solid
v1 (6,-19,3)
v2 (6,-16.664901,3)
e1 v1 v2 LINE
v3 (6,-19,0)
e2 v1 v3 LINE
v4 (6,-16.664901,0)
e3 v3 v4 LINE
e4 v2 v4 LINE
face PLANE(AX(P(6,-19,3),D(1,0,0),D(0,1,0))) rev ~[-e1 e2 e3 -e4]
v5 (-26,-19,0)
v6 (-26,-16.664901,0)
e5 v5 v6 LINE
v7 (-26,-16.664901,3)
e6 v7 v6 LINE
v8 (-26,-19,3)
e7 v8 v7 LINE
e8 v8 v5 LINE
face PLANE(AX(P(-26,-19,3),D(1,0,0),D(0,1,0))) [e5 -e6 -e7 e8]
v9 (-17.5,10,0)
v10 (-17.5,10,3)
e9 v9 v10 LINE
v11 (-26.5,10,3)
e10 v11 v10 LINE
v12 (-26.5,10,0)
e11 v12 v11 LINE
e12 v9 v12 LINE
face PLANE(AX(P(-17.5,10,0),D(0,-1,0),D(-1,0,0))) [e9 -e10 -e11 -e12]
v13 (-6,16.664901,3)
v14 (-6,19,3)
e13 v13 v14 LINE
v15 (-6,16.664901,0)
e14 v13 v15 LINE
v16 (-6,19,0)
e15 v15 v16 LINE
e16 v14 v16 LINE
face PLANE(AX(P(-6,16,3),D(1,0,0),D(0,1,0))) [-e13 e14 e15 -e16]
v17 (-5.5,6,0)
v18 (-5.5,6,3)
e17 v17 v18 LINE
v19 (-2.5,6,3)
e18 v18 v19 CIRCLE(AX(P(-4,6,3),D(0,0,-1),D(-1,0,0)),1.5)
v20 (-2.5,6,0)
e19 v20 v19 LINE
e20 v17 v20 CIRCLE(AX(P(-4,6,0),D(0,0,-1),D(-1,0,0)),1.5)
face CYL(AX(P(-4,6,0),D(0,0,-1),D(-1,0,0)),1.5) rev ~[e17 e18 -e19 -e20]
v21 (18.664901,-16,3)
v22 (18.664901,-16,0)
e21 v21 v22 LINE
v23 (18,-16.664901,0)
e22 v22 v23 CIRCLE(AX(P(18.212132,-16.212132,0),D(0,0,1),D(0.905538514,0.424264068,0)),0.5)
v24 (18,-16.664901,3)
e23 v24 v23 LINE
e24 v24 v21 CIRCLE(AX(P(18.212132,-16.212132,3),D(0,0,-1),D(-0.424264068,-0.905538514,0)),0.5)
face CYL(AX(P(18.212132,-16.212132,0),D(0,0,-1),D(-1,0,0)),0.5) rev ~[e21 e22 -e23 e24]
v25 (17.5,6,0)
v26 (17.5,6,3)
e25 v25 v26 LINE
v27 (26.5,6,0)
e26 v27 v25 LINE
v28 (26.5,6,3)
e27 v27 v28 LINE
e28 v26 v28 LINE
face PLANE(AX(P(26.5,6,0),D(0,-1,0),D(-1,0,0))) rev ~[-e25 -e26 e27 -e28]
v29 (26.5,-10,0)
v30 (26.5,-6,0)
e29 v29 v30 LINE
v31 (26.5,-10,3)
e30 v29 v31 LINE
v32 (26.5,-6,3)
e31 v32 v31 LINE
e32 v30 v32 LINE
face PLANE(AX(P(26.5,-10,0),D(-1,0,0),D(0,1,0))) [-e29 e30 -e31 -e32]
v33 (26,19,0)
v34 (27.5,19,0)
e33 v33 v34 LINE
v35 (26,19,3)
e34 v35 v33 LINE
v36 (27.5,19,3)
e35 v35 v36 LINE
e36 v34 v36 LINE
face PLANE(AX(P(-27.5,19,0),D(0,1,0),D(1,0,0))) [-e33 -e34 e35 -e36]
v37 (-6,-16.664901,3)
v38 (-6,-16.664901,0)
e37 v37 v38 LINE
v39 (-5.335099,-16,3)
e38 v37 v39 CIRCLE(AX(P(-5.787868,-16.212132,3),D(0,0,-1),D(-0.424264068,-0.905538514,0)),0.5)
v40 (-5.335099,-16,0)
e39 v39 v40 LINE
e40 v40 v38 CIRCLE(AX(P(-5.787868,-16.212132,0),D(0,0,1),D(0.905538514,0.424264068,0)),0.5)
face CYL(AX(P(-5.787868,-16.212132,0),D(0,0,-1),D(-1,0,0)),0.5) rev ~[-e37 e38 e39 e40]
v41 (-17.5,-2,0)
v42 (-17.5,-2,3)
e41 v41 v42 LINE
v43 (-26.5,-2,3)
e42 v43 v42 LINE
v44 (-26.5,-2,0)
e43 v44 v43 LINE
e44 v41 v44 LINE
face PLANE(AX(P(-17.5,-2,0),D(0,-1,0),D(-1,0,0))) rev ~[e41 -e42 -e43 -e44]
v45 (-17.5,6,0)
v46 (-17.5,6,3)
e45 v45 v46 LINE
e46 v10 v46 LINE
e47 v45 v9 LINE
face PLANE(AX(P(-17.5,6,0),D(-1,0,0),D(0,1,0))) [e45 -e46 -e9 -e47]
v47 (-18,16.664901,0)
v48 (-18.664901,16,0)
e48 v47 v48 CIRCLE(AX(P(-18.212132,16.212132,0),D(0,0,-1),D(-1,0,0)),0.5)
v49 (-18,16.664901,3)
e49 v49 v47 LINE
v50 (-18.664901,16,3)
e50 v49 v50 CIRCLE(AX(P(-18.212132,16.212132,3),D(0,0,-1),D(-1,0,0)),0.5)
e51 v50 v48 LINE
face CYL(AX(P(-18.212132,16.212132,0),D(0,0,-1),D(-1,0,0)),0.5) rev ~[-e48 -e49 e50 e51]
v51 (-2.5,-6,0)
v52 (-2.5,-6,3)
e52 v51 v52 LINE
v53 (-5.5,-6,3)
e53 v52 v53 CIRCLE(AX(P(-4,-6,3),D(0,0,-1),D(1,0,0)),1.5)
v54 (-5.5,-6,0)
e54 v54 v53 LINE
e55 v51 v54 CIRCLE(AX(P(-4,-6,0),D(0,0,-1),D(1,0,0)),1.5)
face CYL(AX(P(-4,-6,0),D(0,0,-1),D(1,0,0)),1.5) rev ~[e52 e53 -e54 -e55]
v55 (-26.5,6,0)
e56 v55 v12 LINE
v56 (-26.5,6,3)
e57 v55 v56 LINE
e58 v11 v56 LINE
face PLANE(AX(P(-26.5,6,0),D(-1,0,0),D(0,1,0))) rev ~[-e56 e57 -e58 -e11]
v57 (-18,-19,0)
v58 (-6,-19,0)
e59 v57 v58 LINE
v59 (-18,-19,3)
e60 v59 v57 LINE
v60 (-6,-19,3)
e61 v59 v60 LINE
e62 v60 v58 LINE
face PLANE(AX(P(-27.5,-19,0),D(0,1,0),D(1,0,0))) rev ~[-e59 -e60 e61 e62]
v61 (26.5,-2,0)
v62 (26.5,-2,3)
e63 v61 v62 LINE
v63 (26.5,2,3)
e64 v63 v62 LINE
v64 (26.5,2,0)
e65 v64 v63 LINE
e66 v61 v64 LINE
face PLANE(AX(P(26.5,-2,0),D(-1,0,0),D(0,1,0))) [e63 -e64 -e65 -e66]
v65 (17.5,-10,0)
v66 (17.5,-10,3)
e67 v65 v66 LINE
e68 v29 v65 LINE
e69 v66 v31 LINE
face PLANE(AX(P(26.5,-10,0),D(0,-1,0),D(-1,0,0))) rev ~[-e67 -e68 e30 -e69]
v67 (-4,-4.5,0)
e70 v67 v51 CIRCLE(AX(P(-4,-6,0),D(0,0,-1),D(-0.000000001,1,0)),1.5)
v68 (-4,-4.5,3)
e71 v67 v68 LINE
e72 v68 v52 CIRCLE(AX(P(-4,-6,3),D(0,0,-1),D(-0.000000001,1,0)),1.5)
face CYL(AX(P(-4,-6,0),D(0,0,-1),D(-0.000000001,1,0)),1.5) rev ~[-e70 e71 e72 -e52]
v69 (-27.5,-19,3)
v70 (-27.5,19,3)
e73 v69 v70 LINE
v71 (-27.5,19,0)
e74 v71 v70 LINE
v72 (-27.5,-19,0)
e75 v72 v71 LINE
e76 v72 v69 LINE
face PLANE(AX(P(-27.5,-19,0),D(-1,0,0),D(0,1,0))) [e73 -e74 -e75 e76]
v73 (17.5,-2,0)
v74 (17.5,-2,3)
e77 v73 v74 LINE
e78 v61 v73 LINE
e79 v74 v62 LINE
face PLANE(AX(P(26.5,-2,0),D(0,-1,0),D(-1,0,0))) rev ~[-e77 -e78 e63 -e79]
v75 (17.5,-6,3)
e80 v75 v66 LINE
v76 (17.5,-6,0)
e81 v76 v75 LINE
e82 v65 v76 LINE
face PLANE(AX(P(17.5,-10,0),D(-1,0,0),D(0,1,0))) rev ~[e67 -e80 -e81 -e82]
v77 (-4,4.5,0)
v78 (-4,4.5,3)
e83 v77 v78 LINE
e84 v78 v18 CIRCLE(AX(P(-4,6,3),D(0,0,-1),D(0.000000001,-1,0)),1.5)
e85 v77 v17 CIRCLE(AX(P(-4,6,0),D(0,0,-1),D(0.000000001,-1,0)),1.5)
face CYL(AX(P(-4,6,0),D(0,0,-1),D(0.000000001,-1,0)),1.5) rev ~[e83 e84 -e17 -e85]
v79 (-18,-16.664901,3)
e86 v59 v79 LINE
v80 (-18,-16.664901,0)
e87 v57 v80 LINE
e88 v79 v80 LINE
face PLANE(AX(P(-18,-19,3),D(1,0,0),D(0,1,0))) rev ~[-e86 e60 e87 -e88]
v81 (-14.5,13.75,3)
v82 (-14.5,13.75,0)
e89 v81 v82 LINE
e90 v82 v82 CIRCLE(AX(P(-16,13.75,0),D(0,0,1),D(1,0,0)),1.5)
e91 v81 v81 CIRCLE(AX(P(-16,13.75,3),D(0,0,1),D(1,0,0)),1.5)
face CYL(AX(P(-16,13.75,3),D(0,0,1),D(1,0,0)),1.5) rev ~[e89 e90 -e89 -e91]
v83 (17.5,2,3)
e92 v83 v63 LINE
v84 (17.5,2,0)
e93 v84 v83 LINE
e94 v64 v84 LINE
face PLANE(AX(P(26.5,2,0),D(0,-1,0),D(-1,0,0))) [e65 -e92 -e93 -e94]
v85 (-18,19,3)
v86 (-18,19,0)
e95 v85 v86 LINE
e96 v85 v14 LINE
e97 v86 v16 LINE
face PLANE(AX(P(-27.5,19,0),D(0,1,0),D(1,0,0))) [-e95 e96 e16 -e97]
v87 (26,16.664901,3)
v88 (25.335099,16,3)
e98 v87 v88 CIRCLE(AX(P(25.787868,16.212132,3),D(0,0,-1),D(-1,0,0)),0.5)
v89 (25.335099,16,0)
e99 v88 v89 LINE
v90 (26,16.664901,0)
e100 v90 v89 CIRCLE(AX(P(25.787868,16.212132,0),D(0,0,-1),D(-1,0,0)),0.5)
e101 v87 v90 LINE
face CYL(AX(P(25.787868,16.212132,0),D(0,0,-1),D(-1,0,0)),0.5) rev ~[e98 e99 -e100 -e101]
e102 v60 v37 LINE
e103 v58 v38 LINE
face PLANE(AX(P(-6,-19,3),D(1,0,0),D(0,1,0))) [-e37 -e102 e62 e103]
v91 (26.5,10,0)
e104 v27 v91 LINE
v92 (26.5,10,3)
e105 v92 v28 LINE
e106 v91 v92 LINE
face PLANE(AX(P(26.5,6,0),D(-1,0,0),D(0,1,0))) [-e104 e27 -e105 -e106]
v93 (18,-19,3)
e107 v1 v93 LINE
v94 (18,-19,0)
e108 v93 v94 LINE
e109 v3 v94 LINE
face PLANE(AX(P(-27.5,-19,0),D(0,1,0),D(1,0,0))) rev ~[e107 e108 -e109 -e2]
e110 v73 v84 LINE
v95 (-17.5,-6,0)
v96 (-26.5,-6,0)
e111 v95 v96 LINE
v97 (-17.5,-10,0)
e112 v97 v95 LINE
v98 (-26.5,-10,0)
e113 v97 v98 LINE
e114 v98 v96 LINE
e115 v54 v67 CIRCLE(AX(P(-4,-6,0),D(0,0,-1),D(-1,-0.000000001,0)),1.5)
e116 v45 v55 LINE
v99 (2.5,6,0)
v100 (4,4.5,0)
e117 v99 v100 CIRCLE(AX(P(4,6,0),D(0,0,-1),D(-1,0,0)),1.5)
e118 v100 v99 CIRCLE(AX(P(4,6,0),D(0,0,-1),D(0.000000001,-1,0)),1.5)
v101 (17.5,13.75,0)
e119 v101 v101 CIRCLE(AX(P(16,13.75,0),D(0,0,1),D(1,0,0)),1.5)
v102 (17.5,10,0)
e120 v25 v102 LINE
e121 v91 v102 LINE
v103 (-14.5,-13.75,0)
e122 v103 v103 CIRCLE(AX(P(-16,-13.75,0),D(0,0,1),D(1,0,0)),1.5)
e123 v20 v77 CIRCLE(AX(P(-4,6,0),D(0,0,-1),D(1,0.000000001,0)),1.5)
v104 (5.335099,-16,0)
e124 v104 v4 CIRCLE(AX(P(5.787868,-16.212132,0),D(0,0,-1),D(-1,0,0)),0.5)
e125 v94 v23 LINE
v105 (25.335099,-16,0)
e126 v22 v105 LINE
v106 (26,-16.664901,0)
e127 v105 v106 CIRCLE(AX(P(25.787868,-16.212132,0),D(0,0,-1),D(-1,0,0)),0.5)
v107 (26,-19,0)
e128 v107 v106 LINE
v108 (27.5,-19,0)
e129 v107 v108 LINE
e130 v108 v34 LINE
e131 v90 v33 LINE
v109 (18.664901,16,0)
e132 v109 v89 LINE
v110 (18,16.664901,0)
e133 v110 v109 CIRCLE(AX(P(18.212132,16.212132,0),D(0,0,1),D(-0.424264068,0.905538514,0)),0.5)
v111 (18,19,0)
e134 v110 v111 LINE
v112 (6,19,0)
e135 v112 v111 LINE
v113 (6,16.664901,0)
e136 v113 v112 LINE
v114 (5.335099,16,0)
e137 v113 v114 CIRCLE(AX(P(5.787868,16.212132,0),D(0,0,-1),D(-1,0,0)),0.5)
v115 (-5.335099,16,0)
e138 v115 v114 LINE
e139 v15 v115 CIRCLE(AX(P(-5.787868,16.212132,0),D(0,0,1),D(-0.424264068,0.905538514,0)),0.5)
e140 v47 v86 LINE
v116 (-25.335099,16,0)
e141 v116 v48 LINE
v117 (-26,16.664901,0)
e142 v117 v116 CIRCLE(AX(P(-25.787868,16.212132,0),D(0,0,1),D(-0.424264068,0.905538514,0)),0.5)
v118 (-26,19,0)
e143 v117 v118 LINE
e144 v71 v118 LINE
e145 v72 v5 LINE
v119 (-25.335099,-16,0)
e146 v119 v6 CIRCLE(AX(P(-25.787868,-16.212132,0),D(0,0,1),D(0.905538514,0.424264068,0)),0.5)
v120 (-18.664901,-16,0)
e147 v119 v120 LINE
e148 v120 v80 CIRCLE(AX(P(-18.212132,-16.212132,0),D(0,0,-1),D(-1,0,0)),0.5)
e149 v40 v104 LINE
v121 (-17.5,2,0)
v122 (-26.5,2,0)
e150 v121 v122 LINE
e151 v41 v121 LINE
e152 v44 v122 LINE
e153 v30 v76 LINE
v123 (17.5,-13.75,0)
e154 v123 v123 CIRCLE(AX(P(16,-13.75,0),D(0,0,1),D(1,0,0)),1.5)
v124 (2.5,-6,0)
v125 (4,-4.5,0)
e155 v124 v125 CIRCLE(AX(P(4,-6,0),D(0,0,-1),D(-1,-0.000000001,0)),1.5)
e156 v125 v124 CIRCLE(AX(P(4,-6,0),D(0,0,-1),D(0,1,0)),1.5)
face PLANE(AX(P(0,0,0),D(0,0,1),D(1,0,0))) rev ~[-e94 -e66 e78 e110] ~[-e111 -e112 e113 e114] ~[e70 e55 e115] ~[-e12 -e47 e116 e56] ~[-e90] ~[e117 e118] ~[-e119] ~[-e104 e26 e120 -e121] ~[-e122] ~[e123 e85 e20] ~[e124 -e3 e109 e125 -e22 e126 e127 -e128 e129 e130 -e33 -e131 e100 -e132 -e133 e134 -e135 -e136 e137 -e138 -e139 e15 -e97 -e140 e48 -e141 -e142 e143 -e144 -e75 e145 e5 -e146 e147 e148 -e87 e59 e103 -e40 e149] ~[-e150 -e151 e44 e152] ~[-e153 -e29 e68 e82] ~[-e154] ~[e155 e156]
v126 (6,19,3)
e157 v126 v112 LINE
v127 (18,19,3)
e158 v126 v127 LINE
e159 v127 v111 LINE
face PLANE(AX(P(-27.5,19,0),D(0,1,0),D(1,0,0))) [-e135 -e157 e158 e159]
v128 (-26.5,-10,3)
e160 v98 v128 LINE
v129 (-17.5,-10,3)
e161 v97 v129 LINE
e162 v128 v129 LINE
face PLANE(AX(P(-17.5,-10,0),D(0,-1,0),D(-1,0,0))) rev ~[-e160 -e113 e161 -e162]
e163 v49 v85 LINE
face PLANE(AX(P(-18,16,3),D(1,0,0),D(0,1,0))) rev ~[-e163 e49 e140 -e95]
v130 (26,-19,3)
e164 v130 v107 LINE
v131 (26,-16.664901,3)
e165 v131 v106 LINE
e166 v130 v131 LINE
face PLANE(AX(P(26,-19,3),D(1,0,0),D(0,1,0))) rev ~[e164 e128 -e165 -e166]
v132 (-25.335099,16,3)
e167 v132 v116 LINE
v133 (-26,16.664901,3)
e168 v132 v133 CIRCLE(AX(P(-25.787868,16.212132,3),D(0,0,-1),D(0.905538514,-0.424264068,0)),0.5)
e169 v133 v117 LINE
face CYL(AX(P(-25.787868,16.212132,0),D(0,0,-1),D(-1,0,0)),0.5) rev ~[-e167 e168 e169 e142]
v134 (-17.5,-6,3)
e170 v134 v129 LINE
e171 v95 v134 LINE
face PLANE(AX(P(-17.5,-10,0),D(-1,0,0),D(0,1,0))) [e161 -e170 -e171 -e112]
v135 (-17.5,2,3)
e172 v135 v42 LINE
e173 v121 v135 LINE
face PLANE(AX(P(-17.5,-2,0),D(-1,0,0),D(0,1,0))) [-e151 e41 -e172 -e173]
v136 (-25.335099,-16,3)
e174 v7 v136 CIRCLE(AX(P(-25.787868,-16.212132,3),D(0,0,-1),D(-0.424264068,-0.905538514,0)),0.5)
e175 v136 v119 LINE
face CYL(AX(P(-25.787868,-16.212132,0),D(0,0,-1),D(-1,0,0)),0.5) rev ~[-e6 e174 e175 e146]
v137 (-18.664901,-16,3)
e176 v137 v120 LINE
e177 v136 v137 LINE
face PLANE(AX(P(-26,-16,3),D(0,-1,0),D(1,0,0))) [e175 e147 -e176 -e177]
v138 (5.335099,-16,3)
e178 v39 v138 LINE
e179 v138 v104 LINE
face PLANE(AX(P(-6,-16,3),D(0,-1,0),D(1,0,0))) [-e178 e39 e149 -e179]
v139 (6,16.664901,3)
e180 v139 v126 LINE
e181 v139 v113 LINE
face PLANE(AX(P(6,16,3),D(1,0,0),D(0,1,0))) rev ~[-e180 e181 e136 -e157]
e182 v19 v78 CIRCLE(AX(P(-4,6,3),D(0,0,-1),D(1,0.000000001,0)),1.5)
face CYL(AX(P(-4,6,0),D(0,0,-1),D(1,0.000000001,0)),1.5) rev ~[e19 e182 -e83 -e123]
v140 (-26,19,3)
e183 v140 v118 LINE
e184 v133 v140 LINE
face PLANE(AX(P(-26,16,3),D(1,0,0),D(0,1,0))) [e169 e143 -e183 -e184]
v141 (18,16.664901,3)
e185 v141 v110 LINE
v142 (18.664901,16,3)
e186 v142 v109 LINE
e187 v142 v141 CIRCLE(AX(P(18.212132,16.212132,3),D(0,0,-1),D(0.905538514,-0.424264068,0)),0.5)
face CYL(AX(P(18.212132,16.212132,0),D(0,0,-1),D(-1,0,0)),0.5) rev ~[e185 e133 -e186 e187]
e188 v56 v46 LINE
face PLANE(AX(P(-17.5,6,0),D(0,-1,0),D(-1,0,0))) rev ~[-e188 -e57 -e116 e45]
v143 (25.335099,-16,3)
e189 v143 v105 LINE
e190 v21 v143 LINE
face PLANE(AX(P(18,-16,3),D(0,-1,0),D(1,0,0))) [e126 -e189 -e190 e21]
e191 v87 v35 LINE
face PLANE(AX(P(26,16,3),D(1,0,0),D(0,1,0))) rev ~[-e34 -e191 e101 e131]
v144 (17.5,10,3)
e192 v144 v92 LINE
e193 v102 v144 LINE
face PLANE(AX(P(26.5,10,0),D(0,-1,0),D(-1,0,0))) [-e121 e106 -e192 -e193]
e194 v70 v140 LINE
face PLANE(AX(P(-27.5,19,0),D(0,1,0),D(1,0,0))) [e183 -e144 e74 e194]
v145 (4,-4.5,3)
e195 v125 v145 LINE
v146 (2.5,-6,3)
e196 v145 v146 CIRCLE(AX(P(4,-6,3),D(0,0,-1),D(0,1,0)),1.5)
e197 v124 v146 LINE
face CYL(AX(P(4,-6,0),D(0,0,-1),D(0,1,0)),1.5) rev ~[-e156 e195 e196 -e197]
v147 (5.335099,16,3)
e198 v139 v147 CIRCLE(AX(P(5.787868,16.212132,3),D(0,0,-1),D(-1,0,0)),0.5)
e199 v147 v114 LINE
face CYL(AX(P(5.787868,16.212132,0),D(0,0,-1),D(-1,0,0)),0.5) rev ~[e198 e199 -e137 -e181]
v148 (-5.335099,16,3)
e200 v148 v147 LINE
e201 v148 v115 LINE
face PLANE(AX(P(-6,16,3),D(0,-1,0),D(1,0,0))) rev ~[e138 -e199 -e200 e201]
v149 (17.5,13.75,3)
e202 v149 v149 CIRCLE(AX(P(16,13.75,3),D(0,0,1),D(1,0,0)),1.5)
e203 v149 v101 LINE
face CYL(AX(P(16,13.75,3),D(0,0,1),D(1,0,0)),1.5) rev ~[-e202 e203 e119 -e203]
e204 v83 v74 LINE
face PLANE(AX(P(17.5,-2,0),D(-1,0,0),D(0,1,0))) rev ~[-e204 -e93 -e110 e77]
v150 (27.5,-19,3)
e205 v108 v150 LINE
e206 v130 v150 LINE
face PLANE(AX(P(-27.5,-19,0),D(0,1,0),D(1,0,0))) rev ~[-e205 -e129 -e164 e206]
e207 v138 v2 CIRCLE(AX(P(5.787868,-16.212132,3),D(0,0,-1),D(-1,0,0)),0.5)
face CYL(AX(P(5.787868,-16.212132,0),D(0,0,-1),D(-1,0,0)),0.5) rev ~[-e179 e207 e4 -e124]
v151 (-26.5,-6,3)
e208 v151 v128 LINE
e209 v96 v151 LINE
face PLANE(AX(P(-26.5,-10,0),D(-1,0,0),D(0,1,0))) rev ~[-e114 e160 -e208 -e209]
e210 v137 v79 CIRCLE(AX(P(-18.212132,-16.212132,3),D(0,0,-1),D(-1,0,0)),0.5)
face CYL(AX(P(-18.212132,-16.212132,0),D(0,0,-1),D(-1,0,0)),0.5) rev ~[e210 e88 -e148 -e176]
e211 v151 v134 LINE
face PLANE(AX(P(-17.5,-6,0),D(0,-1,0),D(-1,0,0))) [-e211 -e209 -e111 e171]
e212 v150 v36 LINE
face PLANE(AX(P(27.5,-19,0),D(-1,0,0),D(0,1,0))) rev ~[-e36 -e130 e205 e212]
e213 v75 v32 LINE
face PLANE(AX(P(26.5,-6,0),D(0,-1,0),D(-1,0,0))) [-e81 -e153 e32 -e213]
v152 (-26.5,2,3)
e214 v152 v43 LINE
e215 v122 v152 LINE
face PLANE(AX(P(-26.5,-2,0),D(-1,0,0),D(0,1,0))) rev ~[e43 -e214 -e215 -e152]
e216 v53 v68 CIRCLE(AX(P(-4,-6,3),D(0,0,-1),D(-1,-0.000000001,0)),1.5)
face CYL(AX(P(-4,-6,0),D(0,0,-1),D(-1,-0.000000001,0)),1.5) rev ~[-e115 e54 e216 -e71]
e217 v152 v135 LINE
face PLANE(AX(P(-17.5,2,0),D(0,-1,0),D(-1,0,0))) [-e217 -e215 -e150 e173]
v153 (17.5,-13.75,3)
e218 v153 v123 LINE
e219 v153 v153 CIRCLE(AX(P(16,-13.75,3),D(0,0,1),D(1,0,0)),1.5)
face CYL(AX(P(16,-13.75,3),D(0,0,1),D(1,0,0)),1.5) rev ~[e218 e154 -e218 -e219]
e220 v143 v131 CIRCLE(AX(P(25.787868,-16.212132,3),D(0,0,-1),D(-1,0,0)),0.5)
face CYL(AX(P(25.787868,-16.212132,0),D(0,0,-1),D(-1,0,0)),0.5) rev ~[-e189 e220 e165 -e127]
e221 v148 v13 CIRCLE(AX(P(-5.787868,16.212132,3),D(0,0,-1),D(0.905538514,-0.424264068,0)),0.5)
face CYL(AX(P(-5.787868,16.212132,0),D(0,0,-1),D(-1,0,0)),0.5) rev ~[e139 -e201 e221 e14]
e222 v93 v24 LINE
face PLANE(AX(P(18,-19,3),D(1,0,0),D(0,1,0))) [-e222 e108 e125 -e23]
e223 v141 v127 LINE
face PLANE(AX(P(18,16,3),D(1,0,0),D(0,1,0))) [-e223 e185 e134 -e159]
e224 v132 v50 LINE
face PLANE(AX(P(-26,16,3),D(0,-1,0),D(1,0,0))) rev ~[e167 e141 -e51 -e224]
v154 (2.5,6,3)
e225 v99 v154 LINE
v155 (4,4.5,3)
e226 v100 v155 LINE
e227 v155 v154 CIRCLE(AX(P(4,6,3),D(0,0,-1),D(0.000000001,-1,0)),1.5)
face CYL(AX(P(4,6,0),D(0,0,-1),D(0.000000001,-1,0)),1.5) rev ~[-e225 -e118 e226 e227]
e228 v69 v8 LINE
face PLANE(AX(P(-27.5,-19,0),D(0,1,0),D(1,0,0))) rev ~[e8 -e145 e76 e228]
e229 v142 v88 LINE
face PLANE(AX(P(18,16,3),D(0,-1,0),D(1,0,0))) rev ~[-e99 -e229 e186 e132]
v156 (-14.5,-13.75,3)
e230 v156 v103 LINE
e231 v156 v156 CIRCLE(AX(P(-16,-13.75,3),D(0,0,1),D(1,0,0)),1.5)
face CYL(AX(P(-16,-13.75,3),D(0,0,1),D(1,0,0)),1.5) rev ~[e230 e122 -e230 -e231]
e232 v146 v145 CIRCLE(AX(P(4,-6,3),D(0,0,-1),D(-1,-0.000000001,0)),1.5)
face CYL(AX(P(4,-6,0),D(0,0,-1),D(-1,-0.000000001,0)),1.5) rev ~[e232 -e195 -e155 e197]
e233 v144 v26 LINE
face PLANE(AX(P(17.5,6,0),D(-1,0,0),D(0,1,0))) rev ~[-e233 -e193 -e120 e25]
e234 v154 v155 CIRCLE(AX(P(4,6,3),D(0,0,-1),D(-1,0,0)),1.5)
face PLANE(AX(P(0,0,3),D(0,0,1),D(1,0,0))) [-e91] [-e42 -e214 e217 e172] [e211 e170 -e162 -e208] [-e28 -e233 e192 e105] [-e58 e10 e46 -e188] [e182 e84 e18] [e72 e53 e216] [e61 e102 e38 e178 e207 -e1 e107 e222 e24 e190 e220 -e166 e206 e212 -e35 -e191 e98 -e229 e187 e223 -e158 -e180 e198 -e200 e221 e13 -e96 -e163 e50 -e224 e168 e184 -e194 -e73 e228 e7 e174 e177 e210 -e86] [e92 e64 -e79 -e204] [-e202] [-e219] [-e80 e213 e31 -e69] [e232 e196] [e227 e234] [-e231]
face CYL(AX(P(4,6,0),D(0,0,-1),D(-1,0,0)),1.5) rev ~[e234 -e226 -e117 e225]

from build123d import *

# Parameters (mm, degrees)
SKETCH_1_W          = 55
SKETCH_1_H          = 38
EXTRUDE_1_DEPTH     = 3
SKETCH_2_R          = 1.5
CUT_EXTRUDE_1_DEPTH = 30
SKETCH_3_W          = 8
SKETCH_3_H          = 3
CUT_EXTRUDE_2_DEPTH = 30
SKETCH_5_W          = 12
SKETCH_5_H          = 3
CUT_EXTRUDE_4_DEPTH = 10
SKETCH_6_W          = 9
SKETCH_6_H          = 4
CUT_EXTRUDE_5_DEPTH = 10
SKETCH_7_R          = 0.5
CUT_EXTRUDE_6_DEPTH = 10
CUT_EXTRUDE_7_DEPTH = 20


with BuildPart() as part:
    # 草图1 → 凸台-拉伸1 (new body)
    with BuildSketch(Plane.XY):
        Rectangle(SKETCH_1_W, SKETCH_1_H)
    extrude(amount=EXTRUDE_1_DEPTH)

    # 草图2 → 切除-拉伸1 (cut)
    with BuildSketch(Plane.XY.offset(3)):
        with Locations((16, 13.75)):
            Circle(SKETCH_2_R)
        with Locations((16, -13.75)):
            Circle(SKETCH_2_R)
        with Locations((-16, 13.75)):
            Circle(SKETCH_2_R)
        with Locations((-16, -13.75)):
            Circle(SKETCH_2_R)
    extrude(amount=-CUT_EXTRUDE_1_DEPTH, mode=Mode.SUBTRACT)

    # 草图3 → 切除-拉伸2 (cut)
    with BuildSketch(Plane.XY.offset(3)):
        with Locations((22, 17.5)):
            Rectangle(SKETCH_3_W, SKETCH_3_H)
        with Locations((22, -17.5)):
            Rectangle(SKETCH_3_W, SKETCH_3_H)
        with Locations((-22, 17.5)):
            Rectangle(SKETCH_3_W, SKETCH_3_H)
        with Locations((-22, -17.5)):
            Rectangle(SKETCH_3_W, SKETCH_3_H)
    extrude(amount=-CUT_EXTRUDE_2_DEPTH, mode=Mode.SUBTRACT)

    # 草图5 → 切除-拉伸4 (cut)
    with BuildSketch(Plane.XY.offset(3)):
        with Locations((0, -17.5)):
            Rectangle(SKETCH_5_W, SKETCH_5_H)
        with Locations((0, 17.5)):
            Rectangle(SKETCH_5_W, SKETCH_5_H)
    extrude(amount=-CUT_EXTRUDE_4_DEPTH, mode=Mode.SUBTRACT)

    # 草图6 → 切除-拉伸5 (cut)
    with BuildSketch(Plane(origin=(0, 0, 0), x_dir=(-1, 0, 0), z_dir=(0, 0, -1))):
        with Locations((-22, -8)):
            Rectangle(SKETCH_6_W, SKETCH_6_H)
        with Locations((-22, 0)):
            Rectangle(SKETCH_6_W, SKETCH_6_H)
        with Locations((-22, 8)):
            Rectangle(SKETCH_6_W, SKETCH_6_H)
        with Locations((22, -8)):
            Rectangle(SKETCH_6_W, SKETCH_6_H)
        with Locations((22, 0)):
            Rectangle(SKETCH_6_W, SKETCH_6_H)
        with Locations((22, 8)):
            Rectangle(SKETCH_6_W, SKETCH_6_H)
    extrude(amount=-CUT_EXTRUDE_5_DEPTH, mode=Mode.SUBTRACT)

    # 草图7 → 切除-拉伸6 (cut)
    with BuildSketch(Plane(origin=(0, 0, 0), x_dir=(-1, 0, 0), z_dir=(0, 0, -1))):
        with Locations((-18.212132034, -16.212132034)):
            Circle(SKETCH_7_R)
        with Locations((-25.787867966, -16.212132034)):
            Circle(SKETCH_7_R)
        with Locations((-25.787867966, 16.212132034)):
            Circle(SKETCH_7_R)
        with Locations((-18.212132034, 16.212132034)):
            Circle(SKETCH_7_R)
        with Locations((-5.787867966, -16.212132034)):
            Circle(SKETCH_7_R)
        with Locations((25.787867966, -16.212132034)):
            Circle(SKETCH_7_R)
        with Locations((18.212132034, -16.212132034)):
            Circle(SKETCH_7_R)
        with Locations((18.212132034, 16.212132034)):
            Circle(SKETCH_7_R)
        with Locations((25.787867966, 16.212132034)):
            Circle(SKETCH_7_R)
        with Locations((-5.787867966, 16.212132034)):
            Circle(SKETCH_7_R)
        with Locations((5.787867966, 16.212132034)):
            Circle(SKETCH_7_R)
        with Locations((5.787867966, -16.212132034)):
            Circle(SKETCH_7_R)
    extrude(amount=-CUT_EXTRUDE_6_DEPTH, mode=Mode.SUBTRACT)

    # 草图8 → 切除-拉伸7 (cut)
    with BuildSketch(Plane(origin=(0, 0, 0), x_dir=(-1, 0, 0), z_dir=(0, 0, -1))):
        with BuildLine():
            ThreePointArc((-2.5, 6), (-5.060660172, 7.060660172), (-4, 4.5))
            Line((-4, 4.5), (-4, 6))
            Line((-4, 6), (-2.5, 6))
        make_face()
        with BuildLine():
            Line((-4, 6), (-4, 4.5))
            ThreePointArc((-4, 4.5), (-2.939339828, 4.939339828), (-2.5, 6))
            Line((-2.5, 6), (-4, 6))
        make_face()
        with BuildLine():
            ThreePointArc((2.5, 6), (2.939339828, 4.939339828), (4, 4.5))
            Line((4, 4.5), (4, 6))
            Line((4, 6), (2.5, 6))
        make_face()
        with BuildLine():
            Line((4, 6), (4, 4.5))
            ThreePointArc((4, 4.5), (5.060660172, 4.939339828), (5.5, 6))
            ThreePointArc((5.5, 6), (4, 7.5), (2.5, 6))
            Line((2.5, 6), (4, 6))
        make_face()
        with BuildLine():
            ThreePointArc((5.5, -6), (5.060660172, -4.939339828), (4, -4.5))
            Line((4, -4.5), (4, -6))
            Line((4, -6), (2.5, -6))
            ThreePointArc((2.5, -6), (4, -7.5), (5.5, -6))
        make_face()
        with BuildLine():
            Line((4, -6), (4, -4.5))
            ThreePointArc((4, -4.5), (2.939339828, -4.939339828), (2.5, -6))
            Line((2.5, -6), (4, -6))
        make_face()
        with BuildLine():
            ThreePointArc((-2.5, -6), (-2.939339828, -4.939339828), (-4, -4.5))
            Line((-4, -4.5), (-4, -6))
            Line((-4, -6), (-2.5, -6))
        make_face()
        with BuildLine():
            Line((-4, -6), (-4, -4.5))
            ThreePointArc((-4, -4.5), (-5.060660172, -7.060660172), (-2.5, -6))
            Line((-2.5, -6), (-4, -6))
        make_face()
    extrude(amount=-CUT_EXTRUDE_7_DEPTH, mode=Mode.SUBTRACT)


solid = part.part
